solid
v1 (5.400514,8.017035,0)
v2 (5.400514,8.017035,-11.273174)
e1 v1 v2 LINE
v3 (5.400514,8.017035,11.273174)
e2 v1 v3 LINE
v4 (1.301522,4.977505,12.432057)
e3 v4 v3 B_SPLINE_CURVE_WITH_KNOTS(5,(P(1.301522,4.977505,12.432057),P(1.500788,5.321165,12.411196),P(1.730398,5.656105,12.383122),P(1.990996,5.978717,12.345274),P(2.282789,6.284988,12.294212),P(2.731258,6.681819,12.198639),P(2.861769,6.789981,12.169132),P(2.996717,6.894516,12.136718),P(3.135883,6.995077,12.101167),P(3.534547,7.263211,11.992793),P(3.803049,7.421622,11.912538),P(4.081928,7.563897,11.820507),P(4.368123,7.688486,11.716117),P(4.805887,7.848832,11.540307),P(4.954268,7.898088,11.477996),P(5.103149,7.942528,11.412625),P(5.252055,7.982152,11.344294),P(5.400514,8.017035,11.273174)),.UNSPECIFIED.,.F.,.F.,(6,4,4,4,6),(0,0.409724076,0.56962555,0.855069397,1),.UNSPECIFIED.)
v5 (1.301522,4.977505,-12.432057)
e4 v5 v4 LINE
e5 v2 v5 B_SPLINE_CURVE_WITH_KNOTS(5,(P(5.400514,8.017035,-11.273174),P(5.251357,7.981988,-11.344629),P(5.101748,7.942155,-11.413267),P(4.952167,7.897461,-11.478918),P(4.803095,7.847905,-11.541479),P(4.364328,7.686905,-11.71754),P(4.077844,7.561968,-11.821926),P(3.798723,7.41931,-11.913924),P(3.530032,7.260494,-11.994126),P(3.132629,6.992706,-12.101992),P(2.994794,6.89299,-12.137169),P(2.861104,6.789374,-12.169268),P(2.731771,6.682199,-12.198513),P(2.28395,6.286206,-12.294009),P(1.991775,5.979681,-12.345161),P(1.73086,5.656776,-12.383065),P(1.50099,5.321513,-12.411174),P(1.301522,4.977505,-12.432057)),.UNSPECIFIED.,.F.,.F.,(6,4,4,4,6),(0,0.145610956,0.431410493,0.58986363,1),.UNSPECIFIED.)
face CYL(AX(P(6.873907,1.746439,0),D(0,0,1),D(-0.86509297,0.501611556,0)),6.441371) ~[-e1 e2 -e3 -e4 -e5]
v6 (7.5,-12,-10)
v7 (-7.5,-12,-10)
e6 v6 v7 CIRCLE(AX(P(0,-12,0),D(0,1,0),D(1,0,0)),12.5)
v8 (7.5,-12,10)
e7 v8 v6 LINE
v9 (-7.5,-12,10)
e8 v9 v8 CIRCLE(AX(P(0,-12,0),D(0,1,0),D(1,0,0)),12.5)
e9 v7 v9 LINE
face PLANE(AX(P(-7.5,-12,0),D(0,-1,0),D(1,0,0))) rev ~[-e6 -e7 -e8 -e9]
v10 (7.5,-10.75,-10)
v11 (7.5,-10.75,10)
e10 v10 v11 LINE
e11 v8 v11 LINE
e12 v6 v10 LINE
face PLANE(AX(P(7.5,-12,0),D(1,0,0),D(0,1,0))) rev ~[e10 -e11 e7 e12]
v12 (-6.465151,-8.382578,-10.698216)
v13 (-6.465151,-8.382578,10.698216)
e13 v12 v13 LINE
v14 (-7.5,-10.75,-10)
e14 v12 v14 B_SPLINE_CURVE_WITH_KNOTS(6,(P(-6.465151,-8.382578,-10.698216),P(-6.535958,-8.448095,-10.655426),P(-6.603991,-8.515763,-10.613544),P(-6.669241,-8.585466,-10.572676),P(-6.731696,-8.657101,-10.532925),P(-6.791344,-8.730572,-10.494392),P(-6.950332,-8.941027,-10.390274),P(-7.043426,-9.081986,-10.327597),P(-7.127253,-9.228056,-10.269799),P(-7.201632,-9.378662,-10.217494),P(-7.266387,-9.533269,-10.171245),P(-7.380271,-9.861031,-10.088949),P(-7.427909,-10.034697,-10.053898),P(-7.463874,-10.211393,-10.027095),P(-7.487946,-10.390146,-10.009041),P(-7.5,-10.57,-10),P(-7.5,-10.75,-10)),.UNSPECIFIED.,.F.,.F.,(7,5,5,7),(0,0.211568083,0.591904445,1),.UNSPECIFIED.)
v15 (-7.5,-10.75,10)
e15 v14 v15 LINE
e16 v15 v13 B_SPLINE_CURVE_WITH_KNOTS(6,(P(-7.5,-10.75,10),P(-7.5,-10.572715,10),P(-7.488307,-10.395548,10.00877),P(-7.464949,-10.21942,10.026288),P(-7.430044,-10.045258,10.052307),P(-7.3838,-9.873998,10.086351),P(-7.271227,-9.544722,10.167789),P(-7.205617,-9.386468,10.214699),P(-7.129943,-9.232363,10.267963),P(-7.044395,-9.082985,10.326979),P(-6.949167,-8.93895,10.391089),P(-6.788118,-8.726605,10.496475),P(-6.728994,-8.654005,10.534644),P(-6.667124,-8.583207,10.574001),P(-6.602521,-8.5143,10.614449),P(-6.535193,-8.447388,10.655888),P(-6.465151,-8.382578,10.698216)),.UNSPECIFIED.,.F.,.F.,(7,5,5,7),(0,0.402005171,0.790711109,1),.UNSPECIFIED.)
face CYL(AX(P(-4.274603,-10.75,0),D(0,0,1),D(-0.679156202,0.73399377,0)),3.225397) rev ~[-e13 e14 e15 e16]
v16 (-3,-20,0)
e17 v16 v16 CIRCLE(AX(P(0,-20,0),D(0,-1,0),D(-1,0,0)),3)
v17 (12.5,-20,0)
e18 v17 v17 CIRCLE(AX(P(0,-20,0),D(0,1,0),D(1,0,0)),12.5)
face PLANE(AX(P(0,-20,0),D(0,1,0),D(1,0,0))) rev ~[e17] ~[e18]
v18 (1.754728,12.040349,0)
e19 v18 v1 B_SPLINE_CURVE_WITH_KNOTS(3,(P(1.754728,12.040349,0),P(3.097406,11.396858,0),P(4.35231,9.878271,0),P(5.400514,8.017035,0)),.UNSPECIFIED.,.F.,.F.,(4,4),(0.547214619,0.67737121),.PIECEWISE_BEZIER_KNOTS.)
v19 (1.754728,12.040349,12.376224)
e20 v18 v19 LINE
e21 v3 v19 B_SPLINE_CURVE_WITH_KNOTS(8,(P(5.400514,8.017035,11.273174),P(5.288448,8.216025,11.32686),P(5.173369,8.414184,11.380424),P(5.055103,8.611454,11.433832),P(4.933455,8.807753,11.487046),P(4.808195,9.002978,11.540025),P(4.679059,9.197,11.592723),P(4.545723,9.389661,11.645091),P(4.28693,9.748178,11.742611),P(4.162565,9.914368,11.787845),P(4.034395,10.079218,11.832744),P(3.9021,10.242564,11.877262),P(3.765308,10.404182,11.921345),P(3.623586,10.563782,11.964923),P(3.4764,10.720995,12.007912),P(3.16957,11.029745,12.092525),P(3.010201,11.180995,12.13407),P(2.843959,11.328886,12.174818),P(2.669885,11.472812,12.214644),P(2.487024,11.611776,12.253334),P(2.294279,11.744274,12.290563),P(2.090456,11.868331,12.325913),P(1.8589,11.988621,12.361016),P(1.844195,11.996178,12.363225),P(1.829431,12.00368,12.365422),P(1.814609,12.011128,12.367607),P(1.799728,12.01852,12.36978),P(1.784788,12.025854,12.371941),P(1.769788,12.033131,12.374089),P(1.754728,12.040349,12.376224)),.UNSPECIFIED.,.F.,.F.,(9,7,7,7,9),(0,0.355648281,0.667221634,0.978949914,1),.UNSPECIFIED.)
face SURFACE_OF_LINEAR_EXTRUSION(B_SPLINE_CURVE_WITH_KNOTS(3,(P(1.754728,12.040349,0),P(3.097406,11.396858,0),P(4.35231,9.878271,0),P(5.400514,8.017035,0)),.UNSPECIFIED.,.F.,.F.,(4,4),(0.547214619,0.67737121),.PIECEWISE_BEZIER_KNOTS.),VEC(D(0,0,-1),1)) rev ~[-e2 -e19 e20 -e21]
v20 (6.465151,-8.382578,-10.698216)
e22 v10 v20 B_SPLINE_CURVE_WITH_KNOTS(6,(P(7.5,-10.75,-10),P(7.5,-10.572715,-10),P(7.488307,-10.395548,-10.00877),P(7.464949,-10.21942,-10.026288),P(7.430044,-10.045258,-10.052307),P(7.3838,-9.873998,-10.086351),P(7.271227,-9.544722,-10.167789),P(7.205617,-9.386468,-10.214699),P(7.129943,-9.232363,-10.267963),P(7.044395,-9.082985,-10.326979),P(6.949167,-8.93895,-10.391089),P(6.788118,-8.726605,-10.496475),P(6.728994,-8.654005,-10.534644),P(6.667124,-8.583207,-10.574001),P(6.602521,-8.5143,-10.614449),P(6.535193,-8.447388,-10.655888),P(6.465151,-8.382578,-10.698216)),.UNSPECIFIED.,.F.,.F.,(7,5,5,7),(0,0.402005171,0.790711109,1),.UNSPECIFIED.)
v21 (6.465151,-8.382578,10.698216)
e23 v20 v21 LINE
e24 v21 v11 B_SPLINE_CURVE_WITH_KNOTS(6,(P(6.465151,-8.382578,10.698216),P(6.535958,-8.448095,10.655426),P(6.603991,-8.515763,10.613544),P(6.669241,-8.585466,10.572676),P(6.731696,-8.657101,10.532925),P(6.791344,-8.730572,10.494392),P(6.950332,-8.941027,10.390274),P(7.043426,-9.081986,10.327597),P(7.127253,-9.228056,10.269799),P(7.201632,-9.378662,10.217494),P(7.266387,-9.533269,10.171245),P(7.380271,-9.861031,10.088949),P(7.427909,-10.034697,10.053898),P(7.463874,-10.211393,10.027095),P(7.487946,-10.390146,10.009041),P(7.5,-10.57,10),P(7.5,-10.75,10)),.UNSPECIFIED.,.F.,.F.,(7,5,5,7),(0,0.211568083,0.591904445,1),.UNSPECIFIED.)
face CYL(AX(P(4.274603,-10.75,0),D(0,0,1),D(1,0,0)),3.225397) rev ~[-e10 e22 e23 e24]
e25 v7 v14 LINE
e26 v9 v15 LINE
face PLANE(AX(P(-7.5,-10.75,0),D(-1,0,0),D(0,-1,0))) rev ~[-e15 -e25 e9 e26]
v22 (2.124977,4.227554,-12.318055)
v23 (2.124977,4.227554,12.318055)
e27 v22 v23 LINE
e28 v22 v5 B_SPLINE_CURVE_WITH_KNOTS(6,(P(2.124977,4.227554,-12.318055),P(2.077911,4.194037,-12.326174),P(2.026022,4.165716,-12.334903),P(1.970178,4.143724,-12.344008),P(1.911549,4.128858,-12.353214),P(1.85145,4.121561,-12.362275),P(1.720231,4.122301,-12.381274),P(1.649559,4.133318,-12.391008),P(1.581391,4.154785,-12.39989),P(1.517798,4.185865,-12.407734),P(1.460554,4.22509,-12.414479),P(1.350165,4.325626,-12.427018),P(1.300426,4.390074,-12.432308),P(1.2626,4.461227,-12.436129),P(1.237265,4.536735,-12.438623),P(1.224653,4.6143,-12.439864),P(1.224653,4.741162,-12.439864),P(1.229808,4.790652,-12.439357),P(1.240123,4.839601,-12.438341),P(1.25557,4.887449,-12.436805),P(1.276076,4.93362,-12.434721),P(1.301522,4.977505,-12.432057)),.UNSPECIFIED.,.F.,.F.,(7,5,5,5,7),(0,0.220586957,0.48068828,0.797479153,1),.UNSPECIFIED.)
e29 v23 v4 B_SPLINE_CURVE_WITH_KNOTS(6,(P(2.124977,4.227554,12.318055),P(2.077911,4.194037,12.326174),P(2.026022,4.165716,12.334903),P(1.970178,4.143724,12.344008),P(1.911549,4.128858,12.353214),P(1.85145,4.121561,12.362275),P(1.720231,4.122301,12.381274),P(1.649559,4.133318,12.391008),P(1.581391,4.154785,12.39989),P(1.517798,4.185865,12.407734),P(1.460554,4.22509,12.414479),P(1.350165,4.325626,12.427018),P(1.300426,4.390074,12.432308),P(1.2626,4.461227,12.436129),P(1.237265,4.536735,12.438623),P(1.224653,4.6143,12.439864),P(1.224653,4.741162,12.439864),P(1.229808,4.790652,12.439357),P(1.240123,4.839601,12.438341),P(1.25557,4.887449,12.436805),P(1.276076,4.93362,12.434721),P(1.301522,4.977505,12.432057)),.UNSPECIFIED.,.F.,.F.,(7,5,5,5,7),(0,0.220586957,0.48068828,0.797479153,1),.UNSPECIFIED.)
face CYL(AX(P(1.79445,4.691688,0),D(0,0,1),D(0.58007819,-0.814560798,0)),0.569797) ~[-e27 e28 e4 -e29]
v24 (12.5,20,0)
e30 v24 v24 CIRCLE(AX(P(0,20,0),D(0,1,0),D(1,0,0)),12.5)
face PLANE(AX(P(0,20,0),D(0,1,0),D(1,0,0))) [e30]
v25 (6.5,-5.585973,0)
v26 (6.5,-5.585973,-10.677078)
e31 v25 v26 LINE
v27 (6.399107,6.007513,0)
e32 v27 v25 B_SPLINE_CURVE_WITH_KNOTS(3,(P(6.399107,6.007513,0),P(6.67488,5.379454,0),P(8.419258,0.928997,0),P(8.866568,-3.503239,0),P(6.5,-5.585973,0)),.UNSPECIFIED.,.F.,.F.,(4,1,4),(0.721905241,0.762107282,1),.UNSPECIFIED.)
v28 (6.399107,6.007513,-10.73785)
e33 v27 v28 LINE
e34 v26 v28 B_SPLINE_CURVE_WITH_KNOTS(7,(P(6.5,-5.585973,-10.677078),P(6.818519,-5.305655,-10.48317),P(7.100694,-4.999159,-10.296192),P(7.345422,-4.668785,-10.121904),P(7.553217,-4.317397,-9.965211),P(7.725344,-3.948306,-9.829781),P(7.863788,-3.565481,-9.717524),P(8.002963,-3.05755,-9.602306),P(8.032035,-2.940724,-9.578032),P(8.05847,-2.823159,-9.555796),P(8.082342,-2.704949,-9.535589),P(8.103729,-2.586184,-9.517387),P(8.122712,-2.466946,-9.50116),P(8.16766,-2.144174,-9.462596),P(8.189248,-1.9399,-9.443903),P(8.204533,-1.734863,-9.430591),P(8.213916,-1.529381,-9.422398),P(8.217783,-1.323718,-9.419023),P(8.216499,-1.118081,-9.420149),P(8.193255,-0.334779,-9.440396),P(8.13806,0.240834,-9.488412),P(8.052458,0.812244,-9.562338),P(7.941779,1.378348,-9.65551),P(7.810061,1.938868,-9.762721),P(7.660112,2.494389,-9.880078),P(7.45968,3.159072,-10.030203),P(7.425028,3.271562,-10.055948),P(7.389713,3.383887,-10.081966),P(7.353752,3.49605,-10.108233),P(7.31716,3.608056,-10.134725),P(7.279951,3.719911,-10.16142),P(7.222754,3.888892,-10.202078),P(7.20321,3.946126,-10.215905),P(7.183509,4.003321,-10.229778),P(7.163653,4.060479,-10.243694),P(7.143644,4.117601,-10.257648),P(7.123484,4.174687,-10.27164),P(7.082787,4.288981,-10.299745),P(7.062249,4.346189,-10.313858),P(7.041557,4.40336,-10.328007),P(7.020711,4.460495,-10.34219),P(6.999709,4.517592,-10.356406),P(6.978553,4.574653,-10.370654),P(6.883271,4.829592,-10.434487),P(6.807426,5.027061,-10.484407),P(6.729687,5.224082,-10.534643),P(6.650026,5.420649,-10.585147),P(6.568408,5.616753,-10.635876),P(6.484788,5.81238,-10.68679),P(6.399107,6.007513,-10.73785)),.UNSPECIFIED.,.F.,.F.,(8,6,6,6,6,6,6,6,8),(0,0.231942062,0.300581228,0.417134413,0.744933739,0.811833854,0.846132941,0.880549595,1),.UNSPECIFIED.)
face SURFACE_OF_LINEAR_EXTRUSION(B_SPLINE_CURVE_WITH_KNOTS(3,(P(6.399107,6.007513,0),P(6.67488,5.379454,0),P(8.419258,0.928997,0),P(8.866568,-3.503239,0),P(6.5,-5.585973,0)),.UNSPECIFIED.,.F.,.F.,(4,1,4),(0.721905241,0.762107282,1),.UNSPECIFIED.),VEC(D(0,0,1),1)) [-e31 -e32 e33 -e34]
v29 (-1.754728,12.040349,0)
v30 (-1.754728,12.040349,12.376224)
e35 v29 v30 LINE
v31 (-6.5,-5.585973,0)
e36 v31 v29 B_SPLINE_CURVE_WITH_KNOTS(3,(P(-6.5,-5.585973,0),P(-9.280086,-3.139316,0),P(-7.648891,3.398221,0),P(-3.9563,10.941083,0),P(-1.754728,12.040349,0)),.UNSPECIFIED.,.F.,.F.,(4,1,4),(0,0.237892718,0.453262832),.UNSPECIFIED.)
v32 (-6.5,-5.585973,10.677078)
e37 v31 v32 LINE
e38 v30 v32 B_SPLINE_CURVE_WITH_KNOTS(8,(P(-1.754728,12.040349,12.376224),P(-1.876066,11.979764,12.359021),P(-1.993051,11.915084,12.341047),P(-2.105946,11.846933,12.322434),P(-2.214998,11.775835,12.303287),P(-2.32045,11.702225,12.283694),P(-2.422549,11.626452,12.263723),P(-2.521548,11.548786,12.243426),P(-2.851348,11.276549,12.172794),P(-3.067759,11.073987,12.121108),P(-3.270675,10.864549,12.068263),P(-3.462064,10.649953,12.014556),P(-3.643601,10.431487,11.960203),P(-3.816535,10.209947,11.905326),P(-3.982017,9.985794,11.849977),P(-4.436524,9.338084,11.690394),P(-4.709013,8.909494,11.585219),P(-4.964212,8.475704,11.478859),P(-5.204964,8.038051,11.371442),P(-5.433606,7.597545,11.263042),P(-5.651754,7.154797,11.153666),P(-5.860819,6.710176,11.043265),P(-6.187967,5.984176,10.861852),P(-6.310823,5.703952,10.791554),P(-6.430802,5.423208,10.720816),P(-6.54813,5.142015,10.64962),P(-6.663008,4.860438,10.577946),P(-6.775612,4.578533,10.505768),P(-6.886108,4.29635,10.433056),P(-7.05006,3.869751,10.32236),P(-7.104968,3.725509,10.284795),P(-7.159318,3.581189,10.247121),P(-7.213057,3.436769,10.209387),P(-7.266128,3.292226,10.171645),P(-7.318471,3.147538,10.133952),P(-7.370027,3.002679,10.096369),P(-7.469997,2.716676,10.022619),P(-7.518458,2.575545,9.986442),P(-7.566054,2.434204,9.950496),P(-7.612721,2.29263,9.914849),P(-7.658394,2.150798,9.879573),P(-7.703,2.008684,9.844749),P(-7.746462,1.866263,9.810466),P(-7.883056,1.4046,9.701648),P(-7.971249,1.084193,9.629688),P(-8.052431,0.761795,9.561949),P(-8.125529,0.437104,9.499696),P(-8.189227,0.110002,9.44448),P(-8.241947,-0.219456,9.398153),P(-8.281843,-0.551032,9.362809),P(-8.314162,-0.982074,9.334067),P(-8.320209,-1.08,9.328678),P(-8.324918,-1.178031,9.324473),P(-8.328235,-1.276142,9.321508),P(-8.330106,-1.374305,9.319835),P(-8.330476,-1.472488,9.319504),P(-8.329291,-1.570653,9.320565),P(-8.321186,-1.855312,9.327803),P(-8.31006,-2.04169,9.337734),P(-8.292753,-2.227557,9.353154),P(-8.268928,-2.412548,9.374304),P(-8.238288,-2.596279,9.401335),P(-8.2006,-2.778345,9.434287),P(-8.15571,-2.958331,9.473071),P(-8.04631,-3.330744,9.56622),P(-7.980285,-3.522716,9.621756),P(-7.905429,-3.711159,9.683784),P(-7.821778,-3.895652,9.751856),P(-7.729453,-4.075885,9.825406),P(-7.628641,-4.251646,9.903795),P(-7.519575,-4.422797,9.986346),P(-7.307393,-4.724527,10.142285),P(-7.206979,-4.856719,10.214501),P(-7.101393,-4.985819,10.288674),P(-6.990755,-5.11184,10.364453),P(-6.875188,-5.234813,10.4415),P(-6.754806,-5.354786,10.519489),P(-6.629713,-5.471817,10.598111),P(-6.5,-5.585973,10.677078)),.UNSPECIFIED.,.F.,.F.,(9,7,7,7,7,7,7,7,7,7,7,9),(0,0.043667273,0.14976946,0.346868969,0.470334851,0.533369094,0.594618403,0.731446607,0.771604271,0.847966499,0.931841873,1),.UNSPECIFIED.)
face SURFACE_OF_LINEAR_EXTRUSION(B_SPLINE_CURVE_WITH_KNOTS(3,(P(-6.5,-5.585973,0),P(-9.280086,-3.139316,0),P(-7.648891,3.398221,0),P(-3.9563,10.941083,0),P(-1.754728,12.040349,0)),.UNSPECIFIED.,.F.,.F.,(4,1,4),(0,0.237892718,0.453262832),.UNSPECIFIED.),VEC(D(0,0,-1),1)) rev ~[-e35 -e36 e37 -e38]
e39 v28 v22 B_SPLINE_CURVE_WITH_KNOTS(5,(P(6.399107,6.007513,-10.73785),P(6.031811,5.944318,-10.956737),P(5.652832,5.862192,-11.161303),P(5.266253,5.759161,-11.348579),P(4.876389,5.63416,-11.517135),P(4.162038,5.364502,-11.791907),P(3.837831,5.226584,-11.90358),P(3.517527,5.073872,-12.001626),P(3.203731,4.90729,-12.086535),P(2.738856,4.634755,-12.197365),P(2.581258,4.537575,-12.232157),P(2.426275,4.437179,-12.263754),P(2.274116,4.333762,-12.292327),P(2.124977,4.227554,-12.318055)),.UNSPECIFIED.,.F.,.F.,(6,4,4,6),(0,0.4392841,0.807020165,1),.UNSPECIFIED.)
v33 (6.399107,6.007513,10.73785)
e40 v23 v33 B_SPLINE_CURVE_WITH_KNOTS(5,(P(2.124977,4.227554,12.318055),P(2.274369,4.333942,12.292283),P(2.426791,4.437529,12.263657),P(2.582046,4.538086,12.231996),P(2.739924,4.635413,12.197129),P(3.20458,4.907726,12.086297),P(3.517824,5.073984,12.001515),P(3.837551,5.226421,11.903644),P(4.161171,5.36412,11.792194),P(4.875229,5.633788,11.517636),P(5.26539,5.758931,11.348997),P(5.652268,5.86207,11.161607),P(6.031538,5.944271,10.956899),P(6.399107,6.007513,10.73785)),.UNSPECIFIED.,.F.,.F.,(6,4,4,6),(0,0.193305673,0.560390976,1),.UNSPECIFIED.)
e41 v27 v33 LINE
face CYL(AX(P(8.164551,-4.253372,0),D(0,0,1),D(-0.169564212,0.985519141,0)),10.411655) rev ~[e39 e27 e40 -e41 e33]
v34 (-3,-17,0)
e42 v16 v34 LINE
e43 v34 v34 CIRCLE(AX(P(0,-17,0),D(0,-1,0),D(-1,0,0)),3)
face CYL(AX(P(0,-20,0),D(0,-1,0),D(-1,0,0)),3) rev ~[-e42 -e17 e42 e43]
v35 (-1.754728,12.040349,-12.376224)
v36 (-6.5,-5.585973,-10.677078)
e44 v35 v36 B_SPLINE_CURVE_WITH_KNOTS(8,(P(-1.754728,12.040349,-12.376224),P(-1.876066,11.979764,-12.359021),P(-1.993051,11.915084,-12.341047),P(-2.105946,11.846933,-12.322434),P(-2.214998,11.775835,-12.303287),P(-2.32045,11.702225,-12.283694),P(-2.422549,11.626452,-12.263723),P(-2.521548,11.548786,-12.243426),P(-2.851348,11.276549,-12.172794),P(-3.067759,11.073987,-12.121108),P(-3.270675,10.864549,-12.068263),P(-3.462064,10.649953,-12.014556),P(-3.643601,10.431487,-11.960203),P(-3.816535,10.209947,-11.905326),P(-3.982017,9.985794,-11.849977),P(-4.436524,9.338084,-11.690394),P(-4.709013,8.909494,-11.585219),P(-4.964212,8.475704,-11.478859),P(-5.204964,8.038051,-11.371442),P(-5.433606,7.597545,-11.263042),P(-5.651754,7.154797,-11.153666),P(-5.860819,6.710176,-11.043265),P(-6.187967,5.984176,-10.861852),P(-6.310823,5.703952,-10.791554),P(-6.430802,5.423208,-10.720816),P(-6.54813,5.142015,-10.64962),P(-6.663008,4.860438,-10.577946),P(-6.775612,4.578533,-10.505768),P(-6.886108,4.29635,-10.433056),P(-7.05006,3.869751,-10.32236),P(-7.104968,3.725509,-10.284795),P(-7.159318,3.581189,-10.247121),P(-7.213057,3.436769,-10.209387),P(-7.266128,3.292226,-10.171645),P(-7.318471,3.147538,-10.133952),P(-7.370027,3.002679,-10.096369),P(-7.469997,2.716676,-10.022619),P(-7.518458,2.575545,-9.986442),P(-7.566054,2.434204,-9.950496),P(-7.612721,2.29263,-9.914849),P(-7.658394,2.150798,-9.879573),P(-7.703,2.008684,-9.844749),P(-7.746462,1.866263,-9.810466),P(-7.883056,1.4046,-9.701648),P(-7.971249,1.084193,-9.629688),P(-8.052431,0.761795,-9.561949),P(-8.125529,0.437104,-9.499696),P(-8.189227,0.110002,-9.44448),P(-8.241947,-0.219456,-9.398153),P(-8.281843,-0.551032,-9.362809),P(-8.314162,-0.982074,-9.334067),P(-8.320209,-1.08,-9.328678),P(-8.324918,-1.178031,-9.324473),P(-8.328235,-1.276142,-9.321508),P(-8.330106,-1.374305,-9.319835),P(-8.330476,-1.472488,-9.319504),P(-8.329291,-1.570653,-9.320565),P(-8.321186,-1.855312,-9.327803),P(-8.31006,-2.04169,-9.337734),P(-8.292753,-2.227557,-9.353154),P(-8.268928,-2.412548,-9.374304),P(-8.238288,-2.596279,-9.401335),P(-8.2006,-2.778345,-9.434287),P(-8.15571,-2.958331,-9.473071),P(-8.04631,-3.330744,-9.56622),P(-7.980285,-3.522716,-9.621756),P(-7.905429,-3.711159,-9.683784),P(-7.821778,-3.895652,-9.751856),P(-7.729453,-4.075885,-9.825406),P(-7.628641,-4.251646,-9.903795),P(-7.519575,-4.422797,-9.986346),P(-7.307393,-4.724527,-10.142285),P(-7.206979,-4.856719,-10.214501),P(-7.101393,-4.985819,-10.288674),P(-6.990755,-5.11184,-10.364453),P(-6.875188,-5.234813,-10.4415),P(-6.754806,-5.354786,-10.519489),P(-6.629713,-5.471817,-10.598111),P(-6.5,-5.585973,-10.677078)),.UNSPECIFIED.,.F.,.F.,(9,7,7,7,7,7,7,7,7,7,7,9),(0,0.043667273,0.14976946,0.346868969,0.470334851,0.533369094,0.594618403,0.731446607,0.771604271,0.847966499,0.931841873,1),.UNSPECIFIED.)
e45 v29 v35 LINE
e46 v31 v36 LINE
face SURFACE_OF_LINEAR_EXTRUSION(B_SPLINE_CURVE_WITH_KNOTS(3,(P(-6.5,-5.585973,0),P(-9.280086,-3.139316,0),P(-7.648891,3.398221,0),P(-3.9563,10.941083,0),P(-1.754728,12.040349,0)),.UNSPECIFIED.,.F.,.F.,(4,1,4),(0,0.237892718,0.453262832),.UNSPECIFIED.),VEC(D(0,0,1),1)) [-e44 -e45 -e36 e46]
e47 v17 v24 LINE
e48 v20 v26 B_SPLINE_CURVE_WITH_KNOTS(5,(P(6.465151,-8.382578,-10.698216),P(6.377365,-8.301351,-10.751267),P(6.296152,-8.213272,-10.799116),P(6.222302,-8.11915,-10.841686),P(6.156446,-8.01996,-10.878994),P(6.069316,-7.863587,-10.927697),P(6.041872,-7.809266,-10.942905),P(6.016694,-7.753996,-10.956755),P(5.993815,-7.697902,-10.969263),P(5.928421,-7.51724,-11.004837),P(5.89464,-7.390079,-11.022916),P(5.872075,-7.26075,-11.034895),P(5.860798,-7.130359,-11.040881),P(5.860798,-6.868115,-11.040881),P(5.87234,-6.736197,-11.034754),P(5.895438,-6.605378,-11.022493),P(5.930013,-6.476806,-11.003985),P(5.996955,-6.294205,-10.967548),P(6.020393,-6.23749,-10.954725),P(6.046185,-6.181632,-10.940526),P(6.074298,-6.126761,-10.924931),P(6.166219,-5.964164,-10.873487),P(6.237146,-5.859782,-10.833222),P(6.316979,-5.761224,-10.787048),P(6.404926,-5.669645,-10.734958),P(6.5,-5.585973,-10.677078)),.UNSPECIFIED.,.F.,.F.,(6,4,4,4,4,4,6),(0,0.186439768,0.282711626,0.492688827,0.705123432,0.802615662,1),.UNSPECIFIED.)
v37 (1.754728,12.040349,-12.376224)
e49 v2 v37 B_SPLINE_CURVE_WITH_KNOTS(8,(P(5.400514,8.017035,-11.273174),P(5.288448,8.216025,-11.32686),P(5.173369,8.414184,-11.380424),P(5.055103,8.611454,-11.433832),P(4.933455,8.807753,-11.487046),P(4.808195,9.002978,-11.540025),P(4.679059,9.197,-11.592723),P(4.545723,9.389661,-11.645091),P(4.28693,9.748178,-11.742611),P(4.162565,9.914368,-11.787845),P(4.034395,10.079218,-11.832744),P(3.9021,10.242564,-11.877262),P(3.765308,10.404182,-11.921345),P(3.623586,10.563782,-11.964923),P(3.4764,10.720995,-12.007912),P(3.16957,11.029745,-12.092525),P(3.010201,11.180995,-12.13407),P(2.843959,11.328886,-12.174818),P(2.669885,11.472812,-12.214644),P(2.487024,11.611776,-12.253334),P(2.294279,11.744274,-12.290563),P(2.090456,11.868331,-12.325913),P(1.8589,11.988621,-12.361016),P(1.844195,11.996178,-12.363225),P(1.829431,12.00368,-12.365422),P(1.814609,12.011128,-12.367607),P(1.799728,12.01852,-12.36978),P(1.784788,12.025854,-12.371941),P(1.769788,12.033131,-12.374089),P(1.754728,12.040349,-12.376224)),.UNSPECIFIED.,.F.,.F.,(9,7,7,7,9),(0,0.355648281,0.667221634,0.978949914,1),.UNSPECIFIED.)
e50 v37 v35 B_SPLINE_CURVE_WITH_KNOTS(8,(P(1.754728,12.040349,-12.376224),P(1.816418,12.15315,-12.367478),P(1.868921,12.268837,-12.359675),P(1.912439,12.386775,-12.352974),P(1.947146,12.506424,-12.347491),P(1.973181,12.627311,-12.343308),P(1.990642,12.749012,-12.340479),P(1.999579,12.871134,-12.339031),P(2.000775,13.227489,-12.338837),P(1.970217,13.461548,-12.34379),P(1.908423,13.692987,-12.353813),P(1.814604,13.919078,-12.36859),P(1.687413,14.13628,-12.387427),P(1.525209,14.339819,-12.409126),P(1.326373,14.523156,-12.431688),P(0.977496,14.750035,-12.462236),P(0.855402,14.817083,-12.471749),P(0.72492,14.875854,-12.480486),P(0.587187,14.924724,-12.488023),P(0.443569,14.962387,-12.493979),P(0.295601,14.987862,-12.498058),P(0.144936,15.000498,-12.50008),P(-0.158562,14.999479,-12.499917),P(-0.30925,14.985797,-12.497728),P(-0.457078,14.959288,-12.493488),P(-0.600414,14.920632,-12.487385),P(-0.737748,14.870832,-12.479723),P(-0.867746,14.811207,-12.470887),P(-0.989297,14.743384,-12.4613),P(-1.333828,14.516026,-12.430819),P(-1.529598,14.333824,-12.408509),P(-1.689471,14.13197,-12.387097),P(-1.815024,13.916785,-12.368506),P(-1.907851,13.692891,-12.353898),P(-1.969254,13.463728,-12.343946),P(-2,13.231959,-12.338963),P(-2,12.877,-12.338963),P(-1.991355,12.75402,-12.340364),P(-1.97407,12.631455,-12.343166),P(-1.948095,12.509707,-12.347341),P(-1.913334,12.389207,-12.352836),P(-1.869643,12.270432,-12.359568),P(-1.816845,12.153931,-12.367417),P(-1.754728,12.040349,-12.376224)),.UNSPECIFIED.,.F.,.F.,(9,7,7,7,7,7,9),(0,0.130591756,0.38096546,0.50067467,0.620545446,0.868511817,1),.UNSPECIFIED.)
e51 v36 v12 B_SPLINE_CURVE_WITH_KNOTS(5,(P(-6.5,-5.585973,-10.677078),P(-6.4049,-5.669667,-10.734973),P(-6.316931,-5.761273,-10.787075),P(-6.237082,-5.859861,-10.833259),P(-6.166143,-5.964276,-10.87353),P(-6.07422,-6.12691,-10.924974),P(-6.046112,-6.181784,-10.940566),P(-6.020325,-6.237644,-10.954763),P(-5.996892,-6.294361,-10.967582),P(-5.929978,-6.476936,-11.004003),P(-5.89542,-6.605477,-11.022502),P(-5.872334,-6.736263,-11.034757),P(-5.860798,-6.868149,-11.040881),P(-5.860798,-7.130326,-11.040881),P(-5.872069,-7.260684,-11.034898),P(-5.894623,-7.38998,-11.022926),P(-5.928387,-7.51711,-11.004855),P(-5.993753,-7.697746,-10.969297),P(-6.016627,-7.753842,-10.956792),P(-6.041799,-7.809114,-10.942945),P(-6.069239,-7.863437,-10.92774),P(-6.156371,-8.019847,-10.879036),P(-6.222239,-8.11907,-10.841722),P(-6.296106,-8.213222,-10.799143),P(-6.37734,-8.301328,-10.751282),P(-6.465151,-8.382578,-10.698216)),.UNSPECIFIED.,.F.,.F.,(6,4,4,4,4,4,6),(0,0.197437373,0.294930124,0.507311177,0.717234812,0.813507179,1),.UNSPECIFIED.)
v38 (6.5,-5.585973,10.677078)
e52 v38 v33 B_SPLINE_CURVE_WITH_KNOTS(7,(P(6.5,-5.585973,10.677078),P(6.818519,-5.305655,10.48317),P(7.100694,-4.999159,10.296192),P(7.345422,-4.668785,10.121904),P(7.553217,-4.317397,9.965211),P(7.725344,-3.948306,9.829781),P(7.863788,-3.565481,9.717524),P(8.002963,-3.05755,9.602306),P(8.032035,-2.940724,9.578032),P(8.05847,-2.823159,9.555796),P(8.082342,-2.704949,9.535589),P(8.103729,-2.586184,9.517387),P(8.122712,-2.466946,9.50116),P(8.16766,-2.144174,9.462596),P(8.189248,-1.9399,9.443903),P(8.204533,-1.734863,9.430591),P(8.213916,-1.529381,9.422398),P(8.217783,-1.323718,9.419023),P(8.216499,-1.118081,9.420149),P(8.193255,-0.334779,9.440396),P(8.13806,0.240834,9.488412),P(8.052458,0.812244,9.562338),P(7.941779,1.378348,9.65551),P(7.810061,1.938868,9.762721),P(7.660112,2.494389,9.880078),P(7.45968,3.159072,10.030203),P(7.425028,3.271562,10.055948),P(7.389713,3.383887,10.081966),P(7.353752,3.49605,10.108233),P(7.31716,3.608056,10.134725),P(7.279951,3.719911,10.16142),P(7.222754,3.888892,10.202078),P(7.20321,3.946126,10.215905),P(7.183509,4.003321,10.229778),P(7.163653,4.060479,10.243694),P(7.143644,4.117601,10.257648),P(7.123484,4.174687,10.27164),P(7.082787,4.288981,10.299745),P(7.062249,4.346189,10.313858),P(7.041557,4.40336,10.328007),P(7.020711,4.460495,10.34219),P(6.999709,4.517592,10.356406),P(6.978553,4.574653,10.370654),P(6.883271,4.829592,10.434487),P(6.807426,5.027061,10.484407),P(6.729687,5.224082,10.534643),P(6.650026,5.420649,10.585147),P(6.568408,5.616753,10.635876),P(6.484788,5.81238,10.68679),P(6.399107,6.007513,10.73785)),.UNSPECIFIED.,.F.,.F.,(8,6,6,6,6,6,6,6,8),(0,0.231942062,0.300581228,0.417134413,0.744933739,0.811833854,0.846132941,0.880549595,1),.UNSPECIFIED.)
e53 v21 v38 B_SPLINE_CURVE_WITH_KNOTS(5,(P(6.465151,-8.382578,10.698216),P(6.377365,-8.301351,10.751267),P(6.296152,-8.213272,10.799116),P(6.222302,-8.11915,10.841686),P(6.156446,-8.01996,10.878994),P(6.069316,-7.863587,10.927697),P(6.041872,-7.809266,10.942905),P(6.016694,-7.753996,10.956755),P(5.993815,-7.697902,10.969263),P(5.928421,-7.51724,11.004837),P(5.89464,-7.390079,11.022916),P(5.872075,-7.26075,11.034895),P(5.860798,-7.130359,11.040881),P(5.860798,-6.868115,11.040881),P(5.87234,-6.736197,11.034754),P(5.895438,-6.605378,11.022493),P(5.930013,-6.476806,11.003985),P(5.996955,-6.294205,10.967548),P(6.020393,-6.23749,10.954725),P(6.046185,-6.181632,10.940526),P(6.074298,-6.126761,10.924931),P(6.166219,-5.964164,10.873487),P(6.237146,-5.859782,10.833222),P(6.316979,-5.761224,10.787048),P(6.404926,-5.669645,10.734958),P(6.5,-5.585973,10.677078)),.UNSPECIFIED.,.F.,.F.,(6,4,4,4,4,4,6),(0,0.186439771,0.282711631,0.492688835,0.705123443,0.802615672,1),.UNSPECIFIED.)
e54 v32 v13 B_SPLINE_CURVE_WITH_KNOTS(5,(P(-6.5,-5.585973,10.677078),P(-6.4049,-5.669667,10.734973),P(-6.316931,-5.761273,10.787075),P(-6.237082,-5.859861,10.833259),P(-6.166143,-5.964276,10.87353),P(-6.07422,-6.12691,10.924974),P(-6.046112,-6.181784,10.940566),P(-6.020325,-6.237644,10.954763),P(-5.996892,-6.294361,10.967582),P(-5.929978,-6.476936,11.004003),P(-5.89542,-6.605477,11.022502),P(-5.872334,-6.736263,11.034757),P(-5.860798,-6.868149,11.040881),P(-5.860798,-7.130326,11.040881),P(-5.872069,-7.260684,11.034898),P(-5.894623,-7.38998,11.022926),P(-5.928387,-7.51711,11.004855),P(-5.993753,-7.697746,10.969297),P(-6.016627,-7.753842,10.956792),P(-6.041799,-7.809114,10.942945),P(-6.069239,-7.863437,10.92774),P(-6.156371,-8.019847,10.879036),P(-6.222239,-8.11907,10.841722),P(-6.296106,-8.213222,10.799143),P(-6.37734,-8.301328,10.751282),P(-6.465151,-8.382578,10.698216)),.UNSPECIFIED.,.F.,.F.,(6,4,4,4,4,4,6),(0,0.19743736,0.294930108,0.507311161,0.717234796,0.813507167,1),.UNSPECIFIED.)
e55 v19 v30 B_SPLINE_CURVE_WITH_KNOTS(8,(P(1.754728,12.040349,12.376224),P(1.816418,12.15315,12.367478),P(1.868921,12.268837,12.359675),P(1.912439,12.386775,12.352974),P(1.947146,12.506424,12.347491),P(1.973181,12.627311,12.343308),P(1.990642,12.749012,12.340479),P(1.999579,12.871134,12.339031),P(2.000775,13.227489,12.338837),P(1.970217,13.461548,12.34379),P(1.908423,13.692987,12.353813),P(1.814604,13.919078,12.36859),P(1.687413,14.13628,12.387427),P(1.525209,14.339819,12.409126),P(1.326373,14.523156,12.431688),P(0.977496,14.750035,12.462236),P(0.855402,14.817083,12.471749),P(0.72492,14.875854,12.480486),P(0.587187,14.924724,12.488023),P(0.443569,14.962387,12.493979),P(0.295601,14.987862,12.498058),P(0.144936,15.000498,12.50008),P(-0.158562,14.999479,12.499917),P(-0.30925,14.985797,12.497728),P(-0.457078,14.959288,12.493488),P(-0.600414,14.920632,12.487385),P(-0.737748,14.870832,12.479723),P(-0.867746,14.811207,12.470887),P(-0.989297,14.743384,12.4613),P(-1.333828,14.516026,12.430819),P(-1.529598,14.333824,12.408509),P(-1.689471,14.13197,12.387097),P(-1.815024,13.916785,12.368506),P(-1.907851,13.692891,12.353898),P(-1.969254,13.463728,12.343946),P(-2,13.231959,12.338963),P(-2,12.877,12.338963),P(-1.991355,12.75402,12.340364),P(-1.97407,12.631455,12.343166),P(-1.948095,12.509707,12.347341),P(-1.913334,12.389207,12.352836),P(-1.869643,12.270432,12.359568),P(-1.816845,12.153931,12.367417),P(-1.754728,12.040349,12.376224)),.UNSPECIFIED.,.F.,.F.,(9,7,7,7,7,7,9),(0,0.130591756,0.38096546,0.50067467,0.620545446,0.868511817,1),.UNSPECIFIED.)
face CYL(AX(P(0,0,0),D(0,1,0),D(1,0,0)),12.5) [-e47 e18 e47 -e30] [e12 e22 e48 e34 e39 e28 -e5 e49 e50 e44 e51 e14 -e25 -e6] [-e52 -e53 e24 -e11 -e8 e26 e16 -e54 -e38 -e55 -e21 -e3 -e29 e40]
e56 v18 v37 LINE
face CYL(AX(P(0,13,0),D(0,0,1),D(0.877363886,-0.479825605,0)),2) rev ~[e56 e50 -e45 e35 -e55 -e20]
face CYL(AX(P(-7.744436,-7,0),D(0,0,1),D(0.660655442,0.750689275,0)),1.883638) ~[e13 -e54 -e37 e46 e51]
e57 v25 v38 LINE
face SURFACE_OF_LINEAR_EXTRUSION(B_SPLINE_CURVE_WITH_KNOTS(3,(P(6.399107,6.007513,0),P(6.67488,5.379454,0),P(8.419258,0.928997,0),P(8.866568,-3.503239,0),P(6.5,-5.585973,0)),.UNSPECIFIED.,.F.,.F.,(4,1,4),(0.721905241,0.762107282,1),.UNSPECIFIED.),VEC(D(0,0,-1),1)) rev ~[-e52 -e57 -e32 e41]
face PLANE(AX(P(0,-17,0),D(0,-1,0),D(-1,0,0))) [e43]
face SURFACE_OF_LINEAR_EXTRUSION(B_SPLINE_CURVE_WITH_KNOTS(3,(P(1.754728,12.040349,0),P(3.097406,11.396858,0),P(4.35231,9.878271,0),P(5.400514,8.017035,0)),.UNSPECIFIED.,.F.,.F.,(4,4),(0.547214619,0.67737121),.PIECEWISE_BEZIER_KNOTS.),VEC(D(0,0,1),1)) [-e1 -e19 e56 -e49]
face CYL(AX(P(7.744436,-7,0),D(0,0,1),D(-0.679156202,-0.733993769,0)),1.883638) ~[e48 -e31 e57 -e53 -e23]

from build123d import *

# Parameters (mm, degrees)
SKETCH2_R               = 12.5
BOSS_EXTRUDE1_DEPTH     = 20
CUT_EXTRUDE1_DEPTH      = 13.5
CUT_EXTRUDE1_DEPTH_BACK = 13.5
SKETCH4_R               = 3
CUT_EXTRUDE2_DEPTH      = 3


with BuildPart() as part:
    # Sketch2 → Boss-Extrude1 (new body, symmetric)
    with BuildSketch(Plane(origin=(0, 0, 0), x_dir=(1, 0, 0), z_dir=(0, 1, 0))):
        Circle(SKETCH2_R)
    extrude(amount=BOSS_EXTRUDE1_DEPTH, both=True)

    # Sketch3 → Cut-Extrude1 (cut, two sides)
    with BuildSketch(Plane.XY) as cut_extrude1_sk:
        with BuildLine():
            Line((-7.5, -12), (7.5, -12))
            Line((7.5, -12), (7.5, -10.75))
            ThreePointArc((7.5, -10.75), (7.229985685, -9.458141194), (6.465151267, -8.38257845))
            ThreePointArc((6.465151267, -8.38257845), (5.860943971, -6.976529652), (6.5, -5.585973264))
            add(Edge.make_bspline(
                [(6.399106832, 6.007513462), (6.674880251, 5.37945403), (8.419258071, 0.928997207), (8.866568078, -3.503239262), (6.5, -5.585973264)],
                knots=[0.721905241, 0.721905241, 0.721905241, 0.721905241, 0.762107282, 1, 1, 1, 1], degree=3))
            ThreePointArc((6.399106832, 6.007513462), (4.161846652, 5.358127462), (2.124976719, 4.227554084))
            ThreePointArc((2.124976719, 4.227554084), (1.410783073, 4.270418303), (1.30152237, 4.977505287))
            ThreePointArc((1.30152237, 4.977505287), (3.037185837, 6.920492718), (5.400514483, 8.017035255))
            add(Edge.make_bspline(
                [(1.754727772, 12.040348789), (3.097405823, 11.396858203), (4.352310199, 9.878271217), (5.400514483, 8.017035255)],
                knots=[0.547214619, 0.547214619, 0.547214619, 0.547214619, 0.67737121, 0.67737121, 0.67737121, 0.67737121], degree=3))
            ThreePointArc((1.754727772, 12.040348789), (0, 15), (-1.754727772, 12.040348789))
            add(Edge.make_bspline(
                [(-6.5, -5.585973264), (-9.280086296, -3.139316304), (-7.648890565, 3.398221212), (-3.956299658, 10.941083142), (-1.754727772, 12.040348789)],
                knots=[0, 0, 0, 0, 0.237892718, 0.453262832, 0.453262832, 0.453262832, 0.453262832], degree=3))
            ThreePointArc((-6.5, -5.585973264), (-5.860943971, -6.976529652), (-6.465151267, -8.38257845))
            ThreePointArc((-6.465151267, -8.38257845), (-7.229985685, -9.458141194), (-7.5, -10.75))
            Line((-7.5, -10.75), (-7.5, -12))
        make_face()
    extrude(amount=CUT_EXTRUDE1_DEPTH, mode=Mode.SUBTRACT)
    extrude(cut_extrude1_sk.sketch, amount=-CUT_EXTRUDE1_DEPTH_BACK, mode=Mode.SUBTRACT)

    # Sketch4 → Cut-Extrude2 (cut)
    with BuildSketch(Plane(origin=(0, -20, 0), x_dir=(-1, 0, 0), z_dir=(0, -1, 0))):
        Circle(SKETCH4_R)
    extrude(amount=-CUT_EXTRUDE2_DEPTH, mode=Mode.SUBTRACT)


solid = part.part
